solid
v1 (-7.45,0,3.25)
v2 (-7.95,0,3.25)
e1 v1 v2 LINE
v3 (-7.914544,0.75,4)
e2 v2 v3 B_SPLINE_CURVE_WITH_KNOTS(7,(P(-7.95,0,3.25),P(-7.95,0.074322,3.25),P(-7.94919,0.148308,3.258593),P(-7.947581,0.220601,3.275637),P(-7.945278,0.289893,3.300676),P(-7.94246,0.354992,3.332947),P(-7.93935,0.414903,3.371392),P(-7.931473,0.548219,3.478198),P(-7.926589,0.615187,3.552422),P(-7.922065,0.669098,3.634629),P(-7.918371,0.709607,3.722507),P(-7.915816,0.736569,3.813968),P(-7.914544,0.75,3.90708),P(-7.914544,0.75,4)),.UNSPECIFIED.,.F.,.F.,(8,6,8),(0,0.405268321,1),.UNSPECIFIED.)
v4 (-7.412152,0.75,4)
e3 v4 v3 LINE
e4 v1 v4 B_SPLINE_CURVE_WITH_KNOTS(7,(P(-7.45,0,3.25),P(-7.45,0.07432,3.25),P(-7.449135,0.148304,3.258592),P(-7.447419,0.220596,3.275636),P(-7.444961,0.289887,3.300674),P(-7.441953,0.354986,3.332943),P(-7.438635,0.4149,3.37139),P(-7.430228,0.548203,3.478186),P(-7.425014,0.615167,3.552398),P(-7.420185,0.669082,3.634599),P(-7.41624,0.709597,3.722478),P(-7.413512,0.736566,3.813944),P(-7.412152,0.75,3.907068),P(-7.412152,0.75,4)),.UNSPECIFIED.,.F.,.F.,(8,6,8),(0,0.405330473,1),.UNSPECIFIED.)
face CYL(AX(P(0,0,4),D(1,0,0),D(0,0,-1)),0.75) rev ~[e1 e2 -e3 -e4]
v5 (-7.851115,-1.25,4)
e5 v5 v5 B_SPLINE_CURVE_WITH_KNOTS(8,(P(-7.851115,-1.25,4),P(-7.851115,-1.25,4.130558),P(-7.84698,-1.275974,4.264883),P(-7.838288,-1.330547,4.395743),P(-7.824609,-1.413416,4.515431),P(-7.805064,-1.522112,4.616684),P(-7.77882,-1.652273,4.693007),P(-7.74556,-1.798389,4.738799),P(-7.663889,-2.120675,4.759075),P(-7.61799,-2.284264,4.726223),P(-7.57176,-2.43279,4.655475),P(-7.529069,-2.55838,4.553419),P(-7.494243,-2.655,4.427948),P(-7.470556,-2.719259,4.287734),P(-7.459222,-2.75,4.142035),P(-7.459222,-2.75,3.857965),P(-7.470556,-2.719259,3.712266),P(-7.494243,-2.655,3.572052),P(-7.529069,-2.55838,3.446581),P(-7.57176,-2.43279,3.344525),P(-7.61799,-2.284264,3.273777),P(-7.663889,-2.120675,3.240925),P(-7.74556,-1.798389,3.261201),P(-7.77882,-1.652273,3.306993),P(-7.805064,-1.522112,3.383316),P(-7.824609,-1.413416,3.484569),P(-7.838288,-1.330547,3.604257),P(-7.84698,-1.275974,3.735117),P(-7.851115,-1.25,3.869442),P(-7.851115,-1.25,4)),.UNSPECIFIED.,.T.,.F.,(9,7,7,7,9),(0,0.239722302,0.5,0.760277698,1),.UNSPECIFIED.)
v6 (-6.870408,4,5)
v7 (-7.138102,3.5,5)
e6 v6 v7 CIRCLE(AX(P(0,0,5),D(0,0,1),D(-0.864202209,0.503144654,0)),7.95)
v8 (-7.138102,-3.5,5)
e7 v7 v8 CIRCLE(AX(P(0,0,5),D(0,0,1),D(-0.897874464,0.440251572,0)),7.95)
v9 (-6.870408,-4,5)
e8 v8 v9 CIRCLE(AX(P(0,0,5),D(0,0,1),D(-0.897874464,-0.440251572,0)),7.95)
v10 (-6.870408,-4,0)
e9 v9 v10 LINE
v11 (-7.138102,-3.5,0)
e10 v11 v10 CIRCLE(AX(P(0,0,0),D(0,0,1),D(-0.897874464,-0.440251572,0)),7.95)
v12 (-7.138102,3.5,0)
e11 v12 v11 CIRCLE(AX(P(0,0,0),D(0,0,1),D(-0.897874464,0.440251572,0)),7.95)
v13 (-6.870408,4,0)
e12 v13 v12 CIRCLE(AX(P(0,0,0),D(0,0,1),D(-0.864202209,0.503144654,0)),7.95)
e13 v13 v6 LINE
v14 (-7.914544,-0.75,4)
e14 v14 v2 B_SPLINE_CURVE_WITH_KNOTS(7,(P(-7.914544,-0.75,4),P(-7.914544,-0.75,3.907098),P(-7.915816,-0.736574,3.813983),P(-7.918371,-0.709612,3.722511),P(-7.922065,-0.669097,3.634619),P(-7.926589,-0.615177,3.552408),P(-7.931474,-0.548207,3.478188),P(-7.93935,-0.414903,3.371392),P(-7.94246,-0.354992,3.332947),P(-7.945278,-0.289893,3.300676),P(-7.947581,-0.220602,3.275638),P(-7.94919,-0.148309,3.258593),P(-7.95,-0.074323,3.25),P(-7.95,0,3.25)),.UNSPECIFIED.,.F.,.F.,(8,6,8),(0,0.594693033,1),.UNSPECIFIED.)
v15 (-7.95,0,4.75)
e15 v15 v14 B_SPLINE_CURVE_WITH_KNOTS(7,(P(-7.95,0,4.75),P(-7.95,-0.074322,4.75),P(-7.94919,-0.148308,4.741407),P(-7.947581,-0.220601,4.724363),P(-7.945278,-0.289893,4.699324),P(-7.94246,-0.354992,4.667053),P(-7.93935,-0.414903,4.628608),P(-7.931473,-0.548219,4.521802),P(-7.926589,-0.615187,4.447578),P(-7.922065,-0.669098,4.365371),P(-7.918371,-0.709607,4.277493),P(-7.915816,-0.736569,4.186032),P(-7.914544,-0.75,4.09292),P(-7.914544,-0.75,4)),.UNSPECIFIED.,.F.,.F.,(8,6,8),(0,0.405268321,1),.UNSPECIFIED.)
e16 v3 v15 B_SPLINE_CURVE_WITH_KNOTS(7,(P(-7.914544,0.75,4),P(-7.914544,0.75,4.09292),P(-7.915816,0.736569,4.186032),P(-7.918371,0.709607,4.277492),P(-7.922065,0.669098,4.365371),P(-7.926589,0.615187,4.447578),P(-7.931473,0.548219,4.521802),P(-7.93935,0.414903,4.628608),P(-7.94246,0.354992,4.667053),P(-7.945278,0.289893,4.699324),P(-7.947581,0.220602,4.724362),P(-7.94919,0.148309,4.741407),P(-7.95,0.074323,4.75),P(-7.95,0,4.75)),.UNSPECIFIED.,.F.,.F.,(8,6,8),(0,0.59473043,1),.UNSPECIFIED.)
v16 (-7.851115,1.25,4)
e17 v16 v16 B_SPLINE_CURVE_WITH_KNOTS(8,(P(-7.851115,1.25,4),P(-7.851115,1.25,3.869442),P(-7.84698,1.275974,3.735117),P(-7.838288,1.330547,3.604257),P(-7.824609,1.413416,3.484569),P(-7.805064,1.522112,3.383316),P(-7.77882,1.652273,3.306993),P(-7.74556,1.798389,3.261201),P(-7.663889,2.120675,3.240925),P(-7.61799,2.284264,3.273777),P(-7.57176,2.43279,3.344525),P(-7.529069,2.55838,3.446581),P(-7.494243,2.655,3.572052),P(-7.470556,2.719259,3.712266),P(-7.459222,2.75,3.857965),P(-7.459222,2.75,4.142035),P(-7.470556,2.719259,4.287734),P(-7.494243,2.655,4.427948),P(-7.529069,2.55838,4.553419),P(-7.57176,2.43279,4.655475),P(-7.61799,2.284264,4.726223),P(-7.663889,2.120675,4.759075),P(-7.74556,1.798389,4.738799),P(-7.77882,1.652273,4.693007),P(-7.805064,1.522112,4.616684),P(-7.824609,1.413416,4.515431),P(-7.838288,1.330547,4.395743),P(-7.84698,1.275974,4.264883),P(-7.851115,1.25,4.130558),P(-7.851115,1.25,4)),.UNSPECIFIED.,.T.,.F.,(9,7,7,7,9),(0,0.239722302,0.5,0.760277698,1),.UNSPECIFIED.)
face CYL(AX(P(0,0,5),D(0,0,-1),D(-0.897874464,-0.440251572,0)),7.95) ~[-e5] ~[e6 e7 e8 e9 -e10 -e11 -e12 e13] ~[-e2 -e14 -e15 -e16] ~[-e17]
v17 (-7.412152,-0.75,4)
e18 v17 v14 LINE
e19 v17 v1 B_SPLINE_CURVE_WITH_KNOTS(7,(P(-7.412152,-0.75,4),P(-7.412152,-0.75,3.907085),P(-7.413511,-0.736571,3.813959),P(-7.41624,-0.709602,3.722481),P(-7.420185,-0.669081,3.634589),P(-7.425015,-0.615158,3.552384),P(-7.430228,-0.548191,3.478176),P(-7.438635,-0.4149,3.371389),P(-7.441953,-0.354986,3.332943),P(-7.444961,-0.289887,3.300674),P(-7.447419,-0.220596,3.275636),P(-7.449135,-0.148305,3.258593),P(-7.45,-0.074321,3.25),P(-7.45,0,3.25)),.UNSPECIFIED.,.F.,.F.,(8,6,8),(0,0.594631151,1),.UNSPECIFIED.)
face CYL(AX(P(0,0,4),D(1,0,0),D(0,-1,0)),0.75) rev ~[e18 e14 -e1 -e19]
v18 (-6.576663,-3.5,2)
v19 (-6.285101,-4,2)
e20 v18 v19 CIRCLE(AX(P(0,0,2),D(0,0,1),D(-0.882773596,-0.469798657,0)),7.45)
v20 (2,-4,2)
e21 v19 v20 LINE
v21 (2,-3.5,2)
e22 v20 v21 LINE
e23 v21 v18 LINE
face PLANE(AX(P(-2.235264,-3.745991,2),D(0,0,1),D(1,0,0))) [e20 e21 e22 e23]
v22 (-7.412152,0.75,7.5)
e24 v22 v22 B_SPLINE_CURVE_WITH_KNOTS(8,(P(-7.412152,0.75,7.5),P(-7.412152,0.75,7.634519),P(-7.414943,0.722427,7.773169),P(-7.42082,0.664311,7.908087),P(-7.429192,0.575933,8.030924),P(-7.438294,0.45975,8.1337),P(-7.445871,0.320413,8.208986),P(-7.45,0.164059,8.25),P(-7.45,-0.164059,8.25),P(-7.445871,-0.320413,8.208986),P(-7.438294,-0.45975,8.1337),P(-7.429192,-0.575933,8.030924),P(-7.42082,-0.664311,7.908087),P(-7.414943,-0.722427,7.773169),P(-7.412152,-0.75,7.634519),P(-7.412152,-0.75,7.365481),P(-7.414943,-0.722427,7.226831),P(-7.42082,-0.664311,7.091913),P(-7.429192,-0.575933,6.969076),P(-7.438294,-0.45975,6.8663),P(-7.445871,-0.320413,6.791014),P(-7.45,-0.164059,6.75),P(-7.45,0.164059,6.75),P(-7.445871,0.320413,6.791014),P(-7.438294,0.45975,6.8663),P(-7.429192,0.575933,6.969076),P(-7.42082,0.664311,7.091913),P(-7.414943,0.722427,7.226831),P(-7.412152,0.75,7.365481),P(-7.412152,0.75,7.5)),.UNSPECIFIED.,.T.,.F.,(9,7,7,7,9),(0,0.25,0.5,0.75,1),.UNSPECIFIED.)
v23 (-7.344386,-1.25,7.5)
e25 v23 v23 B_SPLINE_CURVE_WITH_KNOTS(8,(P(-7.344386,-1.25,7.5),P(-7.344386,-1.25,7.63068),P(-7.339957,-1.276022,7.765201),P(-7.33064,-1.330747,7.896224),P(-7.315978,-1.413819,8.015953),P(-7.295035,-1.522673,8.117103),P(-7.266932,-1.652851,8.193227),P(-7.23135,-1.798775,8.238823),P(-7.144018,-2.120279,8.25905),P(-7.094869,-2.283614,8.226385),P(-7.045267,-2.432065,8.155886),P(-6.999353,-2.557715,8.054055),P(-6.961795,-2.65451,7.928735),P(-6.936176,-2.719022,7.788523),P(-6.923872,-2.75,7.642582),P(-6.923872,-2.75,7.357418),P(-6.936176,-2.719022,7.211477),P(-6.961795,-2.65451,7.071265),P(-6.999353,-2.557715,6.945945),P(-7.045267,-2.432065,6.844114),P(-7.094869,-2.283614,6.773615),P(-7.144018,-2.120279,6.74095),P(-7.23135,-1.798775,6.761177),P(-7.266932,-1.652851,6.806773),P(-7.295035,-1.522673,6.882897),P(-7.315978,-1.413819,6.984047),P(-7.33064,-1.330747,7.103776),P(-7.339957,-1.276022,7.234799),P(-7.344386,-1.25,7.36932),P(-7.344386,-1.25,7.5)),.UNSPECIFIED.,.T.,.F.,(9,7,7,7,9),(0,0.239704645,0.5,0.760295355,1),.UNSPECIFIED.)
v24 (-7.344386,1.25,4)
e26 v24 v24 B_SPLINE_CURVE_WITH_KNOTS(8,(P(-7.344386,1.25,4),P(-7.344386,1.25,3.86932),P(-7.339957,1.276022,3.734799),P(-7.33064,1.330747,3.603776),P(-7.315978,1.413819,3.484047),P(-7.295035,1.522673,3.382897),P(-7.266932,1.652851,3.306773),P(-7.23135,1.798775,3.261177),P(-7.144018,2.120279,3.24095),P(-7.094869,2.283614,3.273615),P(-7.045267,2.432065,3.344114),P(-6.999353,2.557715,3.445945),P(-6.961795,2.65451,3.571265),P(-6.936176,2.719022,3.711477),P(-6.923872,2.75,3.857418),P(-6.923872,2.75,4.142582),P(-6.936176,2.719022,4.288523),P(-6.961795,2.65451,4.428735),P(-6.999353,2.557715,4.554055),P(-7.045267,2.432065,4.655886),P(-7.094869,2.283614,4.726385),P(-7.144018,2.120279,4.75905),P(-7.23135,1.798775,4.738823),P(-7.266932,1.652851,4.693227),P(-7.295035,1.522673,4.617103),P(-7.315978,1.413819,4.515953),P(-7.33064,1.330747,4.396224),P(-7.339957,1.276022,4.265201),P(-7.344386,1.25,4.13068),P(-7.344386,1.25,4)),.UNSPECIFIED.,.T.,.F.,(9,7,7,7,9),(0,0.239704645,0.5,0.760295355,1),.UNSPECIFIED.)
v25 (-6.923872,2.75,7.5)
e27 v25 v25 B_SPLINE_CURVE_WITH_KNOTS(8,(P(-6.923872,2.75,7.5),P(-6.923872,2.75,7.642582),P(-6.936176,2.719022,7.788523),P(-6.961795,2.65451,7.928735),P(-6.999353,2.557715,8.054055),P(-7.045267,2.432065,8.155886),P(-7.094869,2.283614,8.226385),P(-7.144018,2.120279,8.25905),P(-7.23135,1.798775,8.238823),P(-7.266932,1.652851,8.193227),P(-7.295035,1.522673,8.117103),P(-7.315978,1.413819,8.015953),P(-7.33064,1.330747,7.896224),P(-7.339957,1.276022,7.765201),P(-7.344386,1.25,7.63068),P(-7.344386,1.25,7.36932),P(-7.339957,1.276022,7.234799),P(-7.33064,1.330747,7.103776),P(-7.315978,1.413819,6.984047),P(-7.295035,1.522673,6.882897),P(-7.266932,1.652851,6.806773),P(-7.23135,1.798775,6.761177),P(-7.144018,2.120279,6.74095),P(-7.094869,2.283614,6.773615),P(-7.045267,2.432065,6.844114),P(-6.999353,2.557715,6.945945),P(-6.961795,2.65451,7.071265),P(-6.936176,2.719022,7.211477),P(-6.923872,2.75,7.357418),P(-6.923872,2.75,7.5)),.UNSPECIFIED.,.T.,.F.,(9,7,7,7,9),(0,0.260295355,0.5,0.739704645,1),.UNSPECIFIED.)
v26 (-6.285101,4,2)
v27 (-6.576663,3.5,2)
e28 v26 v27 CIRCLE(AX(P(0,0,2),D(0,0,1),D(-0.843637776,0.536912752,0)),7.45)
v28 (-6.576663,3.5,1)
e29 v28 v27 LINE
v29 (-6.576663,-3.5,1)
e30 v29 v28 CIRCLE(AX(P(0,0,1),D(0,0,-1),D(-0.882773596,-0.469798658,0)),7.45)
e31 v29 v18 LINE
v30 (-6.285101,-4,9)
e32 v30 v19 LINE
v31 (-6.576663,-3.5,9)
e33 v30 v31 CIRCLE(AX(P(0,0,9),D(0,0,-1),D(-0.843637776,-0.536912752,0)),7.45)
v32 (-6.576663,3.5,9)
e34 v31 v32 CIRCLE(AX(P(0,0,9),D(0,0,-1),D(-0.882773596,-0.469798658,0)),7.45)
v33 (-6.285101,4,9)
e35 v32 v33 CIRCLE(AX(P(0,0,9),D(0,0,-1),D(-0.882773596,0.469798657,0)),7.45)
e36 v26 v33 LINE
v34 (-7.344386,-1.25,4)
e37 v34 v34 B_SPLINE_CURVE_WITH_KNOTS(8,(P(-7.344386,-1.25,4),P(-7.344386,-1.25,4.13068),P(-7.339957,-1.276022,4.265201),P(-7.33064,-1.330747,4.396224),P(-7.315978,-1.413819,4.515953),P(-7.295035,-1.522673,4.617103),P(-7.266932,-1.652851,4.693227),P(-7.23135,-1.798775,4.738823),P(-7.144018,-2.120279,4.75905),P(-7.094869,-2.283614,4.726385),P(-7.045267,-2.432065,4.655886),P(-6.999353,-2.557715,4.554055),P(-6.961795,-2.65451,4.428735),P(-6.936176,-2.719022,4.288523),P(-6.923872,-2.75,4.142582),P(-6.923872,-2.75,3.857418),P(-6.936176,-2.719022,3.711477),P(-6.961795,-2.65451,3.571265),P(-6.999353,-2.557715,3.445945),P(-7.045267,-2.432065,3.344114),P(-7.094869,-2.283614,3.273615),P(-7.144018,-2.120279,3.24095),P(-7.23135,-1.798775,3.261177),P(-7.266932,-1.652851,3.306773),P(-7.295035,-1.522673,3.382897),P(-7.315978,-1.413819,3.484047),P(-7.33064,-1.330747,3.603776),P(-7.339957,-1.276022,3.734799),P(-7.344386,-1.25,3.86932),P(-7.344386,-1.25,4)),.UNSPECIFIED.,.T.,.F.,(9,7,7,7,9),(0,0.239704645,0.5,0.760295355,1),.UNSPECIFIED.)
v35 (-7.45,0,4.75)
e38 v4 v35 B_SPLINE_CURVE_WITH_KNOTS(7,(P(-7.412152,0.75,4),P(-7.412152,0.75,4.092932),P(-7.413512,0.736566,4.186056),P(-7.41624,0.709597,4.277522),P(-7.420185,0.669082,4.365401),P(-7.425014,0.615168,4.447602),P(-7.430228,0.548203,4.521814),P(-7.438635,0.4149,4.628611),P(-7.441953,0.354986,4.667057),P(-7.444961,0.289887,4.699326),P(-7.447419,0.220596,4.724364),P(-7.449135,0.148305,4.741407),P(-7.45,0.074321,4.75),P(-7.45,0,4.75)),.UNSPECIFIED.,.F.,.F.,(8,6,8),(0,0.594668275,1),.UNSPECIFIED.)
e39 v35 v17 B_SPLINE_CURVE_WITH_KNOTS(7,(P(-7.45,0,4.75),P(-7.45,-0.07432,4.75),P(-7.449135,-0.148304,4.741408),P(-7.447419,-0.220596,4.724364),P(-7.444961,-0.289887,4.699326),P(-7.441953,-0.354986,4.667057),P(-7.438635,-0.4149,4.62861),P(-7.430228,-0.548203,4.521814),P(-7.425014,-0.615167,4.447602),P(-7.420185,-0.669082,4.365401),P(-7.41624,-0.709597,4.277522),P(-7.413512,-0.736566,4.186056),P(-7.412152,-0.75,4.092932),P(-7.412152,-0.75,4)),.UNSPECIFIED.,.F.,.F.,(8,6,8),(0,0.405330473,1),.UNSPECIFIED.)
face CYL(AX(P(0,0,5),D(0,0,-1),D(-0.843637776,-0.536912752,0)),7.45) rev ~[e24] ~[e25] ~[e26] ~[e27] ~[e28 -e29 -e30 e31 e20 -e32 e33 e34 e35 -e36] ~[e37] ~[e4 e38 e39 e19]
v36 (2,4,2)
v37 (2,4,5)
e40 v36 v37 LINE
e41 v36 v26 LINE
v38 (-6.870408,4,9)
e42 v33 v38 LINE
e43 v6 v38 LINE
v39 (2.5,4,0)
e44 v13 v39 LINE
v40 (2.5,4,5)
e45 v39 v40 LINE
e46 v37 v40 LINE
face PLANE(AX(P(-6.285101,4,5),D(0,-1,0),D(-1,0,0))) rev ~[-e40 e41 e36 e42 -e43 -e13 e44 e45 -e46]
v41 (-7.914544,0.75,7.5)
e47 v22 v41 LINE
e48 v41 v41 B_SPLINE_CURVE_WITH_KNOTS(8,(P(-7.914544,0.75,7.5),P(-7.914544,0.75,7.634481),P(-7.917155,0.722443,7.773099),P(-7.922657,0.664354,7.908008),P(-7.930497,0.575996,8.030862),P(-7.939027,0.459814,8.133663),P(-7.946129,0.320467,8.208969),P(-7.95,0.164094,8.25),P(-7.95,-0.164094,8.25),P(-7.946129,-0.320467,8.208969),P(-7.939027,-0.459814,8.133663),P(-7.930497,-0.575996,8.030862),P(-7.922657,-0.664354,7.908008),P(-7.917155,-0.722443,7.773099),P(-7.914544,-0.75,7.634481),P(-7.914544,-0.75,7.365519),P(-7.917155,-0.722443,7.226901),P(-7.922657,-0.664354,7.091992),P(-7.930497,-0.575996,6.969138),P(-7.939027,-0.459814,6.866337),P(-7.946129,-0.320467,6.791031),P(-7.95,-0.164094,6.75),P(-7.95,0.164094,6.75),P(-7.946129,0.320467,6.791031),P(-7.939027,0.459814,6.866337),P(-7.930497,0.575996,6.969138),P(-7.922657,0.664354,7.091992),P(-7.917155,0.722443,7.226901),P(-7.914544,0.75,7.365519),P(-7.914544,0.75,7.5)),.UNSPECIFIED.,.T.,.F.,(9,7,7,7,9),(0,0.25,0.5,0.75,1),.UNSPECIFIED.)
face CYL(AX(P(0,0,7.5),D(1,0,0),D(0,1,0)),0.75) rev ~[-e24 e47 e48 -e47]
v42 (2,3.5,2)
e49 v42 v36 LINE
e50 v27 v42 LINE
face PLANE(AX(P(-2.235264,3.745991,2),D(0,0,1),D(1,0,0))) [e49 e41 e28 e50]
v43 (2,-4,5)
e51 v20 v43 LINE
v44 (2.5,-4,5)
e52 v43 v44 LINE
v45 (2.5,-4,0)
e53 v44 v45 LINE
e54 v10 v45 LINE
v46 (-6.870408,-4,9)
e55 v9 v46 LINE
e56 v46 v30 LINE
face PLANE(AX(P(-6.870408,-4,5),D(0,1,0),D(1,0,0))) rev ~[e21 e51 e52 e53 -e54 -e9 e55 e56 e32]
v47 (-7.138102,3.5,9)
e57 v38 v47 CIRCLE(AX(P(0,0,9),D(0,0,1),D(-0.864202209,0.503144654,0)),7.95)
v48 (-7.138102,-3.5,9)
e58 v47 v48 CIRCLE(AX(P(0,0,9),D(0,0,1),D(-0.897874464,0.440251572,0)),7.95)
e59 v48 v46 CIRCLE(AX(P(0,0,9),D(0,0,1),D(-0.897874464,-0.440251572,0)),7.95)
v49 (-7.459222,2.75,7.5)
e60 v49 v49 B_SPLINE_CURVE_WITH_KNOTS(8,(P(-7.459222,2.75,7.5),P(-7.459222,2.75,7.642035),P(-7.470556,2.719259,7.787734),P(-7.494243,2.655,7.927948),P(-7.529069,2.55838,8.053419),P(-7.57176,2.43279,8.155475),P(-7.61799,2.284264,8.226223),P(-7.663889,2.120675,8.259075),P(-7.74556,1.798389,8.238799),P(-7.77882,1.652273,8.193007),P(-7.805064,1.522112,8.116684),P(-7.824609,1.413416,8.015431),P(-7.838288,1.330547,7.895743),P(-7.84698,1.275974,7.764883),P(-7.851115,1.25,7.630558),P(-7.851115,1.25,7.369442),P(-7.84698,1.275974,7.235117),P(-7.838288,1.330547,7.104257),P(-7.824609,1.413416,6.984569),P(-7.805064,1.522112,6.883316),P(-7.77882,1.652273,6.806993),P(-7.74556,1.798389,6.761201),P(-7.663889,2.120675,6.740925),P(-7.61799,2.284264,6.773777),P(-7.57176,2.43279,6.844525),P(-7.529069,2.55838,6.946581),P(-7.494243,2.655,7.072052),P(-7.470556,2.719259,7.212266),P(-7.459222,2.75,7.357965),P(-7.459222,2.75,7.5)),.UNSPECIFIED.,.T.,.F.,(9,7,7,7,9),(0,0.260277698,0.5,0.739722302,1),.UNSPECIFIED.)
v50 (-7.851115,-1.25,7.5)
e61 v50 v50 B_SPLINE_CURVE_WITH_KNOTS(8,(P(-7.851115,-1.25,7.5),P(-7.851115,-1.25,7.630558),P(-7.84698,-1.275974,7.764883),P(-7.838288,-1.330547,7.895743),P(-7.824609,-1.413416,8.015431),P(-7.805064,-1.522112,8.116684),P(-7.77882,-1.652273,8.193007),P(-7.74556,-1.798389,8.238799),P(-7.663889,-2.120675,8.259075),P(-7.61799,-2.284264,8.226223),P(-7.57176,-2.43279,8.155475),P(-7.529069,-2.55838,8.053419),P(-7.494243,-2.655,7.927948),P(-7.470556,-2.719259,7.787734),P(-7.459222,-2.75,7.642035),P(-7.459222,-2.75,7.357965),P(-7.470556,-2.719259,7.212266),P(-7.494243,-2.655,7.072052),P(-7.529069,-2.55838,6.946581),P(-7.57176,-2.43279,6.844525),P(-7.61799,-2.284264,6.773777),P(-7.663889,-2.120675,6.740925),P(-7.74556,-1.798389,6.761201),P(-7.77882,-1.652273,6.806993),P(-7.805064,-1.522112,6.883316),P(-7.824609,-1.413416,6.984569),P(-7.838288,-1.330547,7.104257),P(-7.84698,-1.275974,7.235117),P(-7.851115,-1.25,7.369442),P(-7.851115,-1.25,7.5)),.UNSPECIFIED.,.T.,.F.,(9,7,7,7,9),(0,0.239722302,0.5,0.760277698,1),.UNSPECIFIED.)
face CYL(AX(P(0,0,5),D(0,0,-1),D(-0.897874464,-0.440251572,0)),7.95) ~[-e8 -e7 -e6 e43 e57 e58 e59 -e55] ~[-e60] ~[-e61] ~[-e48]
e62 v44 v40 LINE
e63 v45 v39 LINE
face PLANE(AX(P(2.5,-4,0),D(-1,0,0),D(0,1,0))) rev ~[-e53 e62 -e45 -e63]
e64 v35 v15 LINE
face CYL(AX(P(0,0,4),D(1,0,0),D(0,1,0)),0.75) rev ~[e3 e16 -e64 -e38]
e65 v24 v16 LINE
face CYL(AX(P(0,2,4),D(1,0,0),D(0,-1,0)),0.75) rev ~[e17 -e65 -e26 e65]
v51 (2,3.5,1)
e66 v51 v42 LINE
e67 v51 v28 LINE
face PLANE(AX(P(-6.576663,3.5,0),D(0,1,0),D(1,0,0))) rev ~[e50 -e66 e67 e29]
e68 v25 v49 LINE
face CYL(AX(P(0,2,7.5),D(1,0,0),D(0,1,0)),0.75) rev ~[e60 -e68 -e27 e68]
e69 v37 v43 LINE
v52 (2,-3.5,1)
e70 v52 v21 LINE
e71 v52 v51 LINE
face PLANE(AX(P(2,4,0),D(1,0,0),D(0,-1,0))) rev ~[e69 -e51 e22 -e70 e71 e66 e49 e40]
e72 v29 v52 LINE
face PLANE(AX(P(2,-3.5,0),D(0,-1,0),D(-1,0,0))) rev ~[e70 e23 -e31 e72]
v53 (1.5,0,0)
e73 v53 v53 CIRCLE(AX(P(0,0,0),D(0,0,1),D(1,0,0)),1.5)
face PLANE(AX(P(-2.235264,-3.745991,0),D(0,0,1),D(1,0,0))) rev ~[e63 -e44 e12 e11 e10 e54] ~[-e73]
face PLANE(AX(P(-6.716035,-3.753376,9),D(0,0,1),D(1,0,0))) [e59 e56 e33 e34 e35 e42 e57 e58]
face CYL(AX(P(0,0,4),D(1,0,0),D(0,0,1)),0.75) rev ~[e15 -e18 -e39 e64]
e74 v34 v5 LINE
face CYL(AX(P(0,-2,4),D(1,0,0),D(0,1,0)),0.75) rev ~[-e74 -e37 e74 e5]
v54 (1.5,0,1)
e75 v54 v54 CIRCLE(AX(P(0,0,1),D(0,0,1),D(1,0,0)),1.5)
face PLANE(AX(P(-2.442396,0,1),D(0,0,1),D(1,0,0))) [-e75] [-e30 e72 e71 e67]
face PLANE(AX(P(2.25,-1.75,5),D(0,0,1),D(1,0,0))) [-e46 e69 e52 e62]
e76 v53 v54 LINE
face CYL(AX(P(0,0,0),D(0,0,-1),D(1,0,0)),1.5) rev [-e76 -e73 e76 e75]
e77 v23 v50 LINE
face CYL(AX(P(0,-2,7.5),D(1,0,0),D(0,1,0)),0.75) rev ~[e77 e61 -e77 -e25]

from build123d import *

# Parameters (mm, degrees)
F0_R     = 1.5
F0_W     = 0.5
F0_H     = 3.5
F0_H_2   = 0.5
F1_DEPTH = 1
F2_DEPTH = 5
F3_DEPTH = 2
F4_DEPTH = 4
F5_R     = 0.75
F6_DEPTH = 25


with BuildPart() as f1:
    # F0 (on Top) → F1 (new body)
    with BuildSketch(Plane.XY):
        with BuildLine():
            Line((2, -3.5), (2, 0))
            Line((2, 0), (2, 3.5))
            Line((2, 3.5), (-6.5766632877, 3.5))
            ThreePointArc((-6.5766632877, 3.5), (-7.45, 0), (-6.5766632877, -3.5))
            Line((-6.5766632877, -3.5), (2, -3.5))
        make_face()
        Circle(F0_R, mode=Mode.SUBTRACT)
        with Locations((2.25, -1.75)):
            Rectangle(F0_W, F0_H)
        with Locations((2.25, 1.75)):
            Rectangle(F0_W, F0_H)
        with BuildLine():
            ThreePointArc((-6.2851014312, -4), (-6.4357398892, -3.7528325408), (-6.5766632877, -3.5))
            Line((-6.5766632877, -3.5), (-7.1381019886, -3.5))
            ThreePointArc((-7.1381019886, -3.5), (-7.0087149266, -3.7523879167), (-6.8704075571, -4))
            Line((-6.8704075571, -4), (-6.2851014312, -4))
        make_face()
        with BuildLine():
            Line((-7.1381019886, 3.5), (-6.5766632877, 3.5))
            ThreePointArc((-6.5766632877, 3.5), (-6.4357398892, 3.7528325408), (-6.2851014312, 4))
            Line((-6.2851014312, 4), (-6.8704075571, 4))
            ThreePointArc((-6.8704075571, 4), (-7.0087149266, 3.7523879167), (-7.1381019886, 3.5))
        make_face()
        with Locations((2.25, 3.75)):
            Rectangle(F0_W, F0_H_2)
        with Locations((2.25, -3.75)):
            Rectangle(F0_W, F0_H_2)
        with BuildLine():
            ThreePointArc((-6.5766632877, -3.5), (-7.45, 0), (-6.5766632877, 3.5))
            Line((-6.5766632877, 3.5), (-7.1381019886, 3.5))
            ThreePointArc((-7.1381019886, 3.5), (-7.95, 0), (-7.1381019886, -3.5))
            Line((-7.1381019886, -3.5), (-6.5766632877, -3.5))
        make_face()
        with BuildLine():
            Line((-6.5766632877, 3.5), (2, 3.5))
            Line((2, 3.5), (2, 4))
            Line((2, 4), (-6.2851014312, 4))
            ThreePointArc((-6.2851014312, 4), (-6.4357398892, 3.7528325408), (-6.5766632877, 3.5))
        make_face()
        with BuildLine():
            Line((2, -4), (2, -3.5))
            Line((2, -3.5), (-6.5766632877, -3.5))
            ThreePointArc((-6.5766632877, -3.5), (-6.4357398892, -3.7528325408), (-6.2851014312, -4))
            Line((-6.2851014312, -4), (2, -4))
        make_face()
    extrude(amount=F1_DEPTH)

    # F0 (on Top) → F2 (join)
    with BuildSketch(Plane.XY):
        with Locations((2.25, -1.75)):
            Rectangle(F0_W, F0_H)
        with Locations((2.25, 1.75)):
            Rectangle(F0_W, F0_H)
        with BuildLine():
            ThreePointArc((-6.2851014312, -4), (-6.4357398892, -3.7528325408), (-6.5766632877, -3.5))
            Line((-6.5766632877, -3.5), (-7.1381019886, -3.5))
            ThreePointArc((-7.1381019886, -3.5), (-7.0087149266, -3.7523879167), (-6.8704075571, -4))
            Line((-6.8704075571, -4), (-6.2851014312, -4))
        make_face()
        with Locations((2.25, -3.75)):
            Rectangle(F0_W, F0_H_2)
        with Locations((2.25, 3.75)):
            Rectangle(F0_W, F0_H_2)
        with BuildLine():
            Line((-7.1381019886, 3.5), (-6.5766632877, 3.5))
            ThreePointArc((-6.5766632877, 3.5), (-6.4357398892, 3.7528325408), (-6.2851014312, 4))
            Line((-6.2851014312, 4), (-6.8704075571, 4))
            ThreePointArc((-6.8704075571, 4), (-7.0087149266, 3.7523879167), (-7.1381019886, 3.5))
        make_face()
        with BuildLine():
            ThreePointArc((-6.5766632877, -3.5), (-7.45, 0), (-6.5766632877, 3.5))
            Line((-6.5766632877, 3.5), (-7.1381019886, 3.5))
            ThreePointArc((-7.1381019886, 3.5), (-7.95, 0), (-7.1381019886, -3.5))
            Line((-7.1381019886, -3.5), (-6.5766632877, -3.5))
        make_face()
    extrude(amount=F2_DEPTH)

    # F0 (on Top) → F3 (join)
    with BuildSketch(Plane.XY):
        with BuildLine():
            Line((2, -4), (2, -3.5))
            Line((2, -3.5), (-6.5766632877, -3.5))
            ThreePointArc((-6.5766632877, -3.5), (-6.4357398892, -3.7528325408), (-6.2851014312, -4))
            Line((-6.2851014312, -4), (2, -4))
        make_face()
        with BuildLine():
            Line((-6.5766632877, 3.5), (2, 3.5))
            Line((2, 3.5), (2, 4))
            Line((2, 4), (-6.2851014312, 4))
            ThreePointArc((-6.2851014312, 4), (-6.4357398892, 3.7528325408), (-6.5766632877, 3.5))
        make_face()
    extrude(amount=F3_DEPTH)

    # F4 (add): a face of the model
    f4_faces = [f1.faces().sort_by_distance(p)[0] for p in [
        (-7.5317140669, 0, 5),
    ]]
    extrude(f4_faces, amount=F4_DEPTH)

    # F5 (on Right) → F6 (cut)
    with BuildSketch(Plane.YZ):
        with BuildLine():
            ThreePointArc((2.75, 4), (2, 4.75), (1.25, 4))
            ThreePointArc((1.25, 4), (2, 3.25), (2.75, 4))
        make_face()
        with BuildLine():
            Line((0, 4), (0, 3.25))
            ThreePointArc((0, 3.25), (0.5303300859, 3.4696699141), (0.75, 4))
            Line((0.75, 4), (0, 4))
        make_face()
        with BuildLine():
            Line((0, 4.75), (0, 4))
            Line((0, 4), (0.75, 4))
            ThreePointArc((0.75, 4), (0.5303300859, 4.5303300859), (0, 4.75))
        make_face()
        with BuildLine():
            ThreePointArc((-0.75, 4), (-0.5303300859, 3.4696699141), (0, 3.25))
            Line((0, 3.25), (0, 4))
            Line((0, 4), (-0.75, 4))
        make_face()
        with Locations((-2, 4)):
            Circle(F5_R)
        with BuildLine():
            Line((-0.75, 4), (0, 4))
            Line((0, 4), (0, 4.75))
            ThreePointArc((0, 4.75), (-0.5303300859, 4.5303300859), (-0.75, 4))
        make_face()
        with Locations((2, 7.5)):
            Circle(F5_R)
        with Locations((0, 7.5)):
            Circle(F5_R)
        with Locations((-2, 7.5)):
            Circle(F5_R)
    extrude(amount=-F6_DEPTH, mode=Mode.SUBTRACT)


solid = f1.part
